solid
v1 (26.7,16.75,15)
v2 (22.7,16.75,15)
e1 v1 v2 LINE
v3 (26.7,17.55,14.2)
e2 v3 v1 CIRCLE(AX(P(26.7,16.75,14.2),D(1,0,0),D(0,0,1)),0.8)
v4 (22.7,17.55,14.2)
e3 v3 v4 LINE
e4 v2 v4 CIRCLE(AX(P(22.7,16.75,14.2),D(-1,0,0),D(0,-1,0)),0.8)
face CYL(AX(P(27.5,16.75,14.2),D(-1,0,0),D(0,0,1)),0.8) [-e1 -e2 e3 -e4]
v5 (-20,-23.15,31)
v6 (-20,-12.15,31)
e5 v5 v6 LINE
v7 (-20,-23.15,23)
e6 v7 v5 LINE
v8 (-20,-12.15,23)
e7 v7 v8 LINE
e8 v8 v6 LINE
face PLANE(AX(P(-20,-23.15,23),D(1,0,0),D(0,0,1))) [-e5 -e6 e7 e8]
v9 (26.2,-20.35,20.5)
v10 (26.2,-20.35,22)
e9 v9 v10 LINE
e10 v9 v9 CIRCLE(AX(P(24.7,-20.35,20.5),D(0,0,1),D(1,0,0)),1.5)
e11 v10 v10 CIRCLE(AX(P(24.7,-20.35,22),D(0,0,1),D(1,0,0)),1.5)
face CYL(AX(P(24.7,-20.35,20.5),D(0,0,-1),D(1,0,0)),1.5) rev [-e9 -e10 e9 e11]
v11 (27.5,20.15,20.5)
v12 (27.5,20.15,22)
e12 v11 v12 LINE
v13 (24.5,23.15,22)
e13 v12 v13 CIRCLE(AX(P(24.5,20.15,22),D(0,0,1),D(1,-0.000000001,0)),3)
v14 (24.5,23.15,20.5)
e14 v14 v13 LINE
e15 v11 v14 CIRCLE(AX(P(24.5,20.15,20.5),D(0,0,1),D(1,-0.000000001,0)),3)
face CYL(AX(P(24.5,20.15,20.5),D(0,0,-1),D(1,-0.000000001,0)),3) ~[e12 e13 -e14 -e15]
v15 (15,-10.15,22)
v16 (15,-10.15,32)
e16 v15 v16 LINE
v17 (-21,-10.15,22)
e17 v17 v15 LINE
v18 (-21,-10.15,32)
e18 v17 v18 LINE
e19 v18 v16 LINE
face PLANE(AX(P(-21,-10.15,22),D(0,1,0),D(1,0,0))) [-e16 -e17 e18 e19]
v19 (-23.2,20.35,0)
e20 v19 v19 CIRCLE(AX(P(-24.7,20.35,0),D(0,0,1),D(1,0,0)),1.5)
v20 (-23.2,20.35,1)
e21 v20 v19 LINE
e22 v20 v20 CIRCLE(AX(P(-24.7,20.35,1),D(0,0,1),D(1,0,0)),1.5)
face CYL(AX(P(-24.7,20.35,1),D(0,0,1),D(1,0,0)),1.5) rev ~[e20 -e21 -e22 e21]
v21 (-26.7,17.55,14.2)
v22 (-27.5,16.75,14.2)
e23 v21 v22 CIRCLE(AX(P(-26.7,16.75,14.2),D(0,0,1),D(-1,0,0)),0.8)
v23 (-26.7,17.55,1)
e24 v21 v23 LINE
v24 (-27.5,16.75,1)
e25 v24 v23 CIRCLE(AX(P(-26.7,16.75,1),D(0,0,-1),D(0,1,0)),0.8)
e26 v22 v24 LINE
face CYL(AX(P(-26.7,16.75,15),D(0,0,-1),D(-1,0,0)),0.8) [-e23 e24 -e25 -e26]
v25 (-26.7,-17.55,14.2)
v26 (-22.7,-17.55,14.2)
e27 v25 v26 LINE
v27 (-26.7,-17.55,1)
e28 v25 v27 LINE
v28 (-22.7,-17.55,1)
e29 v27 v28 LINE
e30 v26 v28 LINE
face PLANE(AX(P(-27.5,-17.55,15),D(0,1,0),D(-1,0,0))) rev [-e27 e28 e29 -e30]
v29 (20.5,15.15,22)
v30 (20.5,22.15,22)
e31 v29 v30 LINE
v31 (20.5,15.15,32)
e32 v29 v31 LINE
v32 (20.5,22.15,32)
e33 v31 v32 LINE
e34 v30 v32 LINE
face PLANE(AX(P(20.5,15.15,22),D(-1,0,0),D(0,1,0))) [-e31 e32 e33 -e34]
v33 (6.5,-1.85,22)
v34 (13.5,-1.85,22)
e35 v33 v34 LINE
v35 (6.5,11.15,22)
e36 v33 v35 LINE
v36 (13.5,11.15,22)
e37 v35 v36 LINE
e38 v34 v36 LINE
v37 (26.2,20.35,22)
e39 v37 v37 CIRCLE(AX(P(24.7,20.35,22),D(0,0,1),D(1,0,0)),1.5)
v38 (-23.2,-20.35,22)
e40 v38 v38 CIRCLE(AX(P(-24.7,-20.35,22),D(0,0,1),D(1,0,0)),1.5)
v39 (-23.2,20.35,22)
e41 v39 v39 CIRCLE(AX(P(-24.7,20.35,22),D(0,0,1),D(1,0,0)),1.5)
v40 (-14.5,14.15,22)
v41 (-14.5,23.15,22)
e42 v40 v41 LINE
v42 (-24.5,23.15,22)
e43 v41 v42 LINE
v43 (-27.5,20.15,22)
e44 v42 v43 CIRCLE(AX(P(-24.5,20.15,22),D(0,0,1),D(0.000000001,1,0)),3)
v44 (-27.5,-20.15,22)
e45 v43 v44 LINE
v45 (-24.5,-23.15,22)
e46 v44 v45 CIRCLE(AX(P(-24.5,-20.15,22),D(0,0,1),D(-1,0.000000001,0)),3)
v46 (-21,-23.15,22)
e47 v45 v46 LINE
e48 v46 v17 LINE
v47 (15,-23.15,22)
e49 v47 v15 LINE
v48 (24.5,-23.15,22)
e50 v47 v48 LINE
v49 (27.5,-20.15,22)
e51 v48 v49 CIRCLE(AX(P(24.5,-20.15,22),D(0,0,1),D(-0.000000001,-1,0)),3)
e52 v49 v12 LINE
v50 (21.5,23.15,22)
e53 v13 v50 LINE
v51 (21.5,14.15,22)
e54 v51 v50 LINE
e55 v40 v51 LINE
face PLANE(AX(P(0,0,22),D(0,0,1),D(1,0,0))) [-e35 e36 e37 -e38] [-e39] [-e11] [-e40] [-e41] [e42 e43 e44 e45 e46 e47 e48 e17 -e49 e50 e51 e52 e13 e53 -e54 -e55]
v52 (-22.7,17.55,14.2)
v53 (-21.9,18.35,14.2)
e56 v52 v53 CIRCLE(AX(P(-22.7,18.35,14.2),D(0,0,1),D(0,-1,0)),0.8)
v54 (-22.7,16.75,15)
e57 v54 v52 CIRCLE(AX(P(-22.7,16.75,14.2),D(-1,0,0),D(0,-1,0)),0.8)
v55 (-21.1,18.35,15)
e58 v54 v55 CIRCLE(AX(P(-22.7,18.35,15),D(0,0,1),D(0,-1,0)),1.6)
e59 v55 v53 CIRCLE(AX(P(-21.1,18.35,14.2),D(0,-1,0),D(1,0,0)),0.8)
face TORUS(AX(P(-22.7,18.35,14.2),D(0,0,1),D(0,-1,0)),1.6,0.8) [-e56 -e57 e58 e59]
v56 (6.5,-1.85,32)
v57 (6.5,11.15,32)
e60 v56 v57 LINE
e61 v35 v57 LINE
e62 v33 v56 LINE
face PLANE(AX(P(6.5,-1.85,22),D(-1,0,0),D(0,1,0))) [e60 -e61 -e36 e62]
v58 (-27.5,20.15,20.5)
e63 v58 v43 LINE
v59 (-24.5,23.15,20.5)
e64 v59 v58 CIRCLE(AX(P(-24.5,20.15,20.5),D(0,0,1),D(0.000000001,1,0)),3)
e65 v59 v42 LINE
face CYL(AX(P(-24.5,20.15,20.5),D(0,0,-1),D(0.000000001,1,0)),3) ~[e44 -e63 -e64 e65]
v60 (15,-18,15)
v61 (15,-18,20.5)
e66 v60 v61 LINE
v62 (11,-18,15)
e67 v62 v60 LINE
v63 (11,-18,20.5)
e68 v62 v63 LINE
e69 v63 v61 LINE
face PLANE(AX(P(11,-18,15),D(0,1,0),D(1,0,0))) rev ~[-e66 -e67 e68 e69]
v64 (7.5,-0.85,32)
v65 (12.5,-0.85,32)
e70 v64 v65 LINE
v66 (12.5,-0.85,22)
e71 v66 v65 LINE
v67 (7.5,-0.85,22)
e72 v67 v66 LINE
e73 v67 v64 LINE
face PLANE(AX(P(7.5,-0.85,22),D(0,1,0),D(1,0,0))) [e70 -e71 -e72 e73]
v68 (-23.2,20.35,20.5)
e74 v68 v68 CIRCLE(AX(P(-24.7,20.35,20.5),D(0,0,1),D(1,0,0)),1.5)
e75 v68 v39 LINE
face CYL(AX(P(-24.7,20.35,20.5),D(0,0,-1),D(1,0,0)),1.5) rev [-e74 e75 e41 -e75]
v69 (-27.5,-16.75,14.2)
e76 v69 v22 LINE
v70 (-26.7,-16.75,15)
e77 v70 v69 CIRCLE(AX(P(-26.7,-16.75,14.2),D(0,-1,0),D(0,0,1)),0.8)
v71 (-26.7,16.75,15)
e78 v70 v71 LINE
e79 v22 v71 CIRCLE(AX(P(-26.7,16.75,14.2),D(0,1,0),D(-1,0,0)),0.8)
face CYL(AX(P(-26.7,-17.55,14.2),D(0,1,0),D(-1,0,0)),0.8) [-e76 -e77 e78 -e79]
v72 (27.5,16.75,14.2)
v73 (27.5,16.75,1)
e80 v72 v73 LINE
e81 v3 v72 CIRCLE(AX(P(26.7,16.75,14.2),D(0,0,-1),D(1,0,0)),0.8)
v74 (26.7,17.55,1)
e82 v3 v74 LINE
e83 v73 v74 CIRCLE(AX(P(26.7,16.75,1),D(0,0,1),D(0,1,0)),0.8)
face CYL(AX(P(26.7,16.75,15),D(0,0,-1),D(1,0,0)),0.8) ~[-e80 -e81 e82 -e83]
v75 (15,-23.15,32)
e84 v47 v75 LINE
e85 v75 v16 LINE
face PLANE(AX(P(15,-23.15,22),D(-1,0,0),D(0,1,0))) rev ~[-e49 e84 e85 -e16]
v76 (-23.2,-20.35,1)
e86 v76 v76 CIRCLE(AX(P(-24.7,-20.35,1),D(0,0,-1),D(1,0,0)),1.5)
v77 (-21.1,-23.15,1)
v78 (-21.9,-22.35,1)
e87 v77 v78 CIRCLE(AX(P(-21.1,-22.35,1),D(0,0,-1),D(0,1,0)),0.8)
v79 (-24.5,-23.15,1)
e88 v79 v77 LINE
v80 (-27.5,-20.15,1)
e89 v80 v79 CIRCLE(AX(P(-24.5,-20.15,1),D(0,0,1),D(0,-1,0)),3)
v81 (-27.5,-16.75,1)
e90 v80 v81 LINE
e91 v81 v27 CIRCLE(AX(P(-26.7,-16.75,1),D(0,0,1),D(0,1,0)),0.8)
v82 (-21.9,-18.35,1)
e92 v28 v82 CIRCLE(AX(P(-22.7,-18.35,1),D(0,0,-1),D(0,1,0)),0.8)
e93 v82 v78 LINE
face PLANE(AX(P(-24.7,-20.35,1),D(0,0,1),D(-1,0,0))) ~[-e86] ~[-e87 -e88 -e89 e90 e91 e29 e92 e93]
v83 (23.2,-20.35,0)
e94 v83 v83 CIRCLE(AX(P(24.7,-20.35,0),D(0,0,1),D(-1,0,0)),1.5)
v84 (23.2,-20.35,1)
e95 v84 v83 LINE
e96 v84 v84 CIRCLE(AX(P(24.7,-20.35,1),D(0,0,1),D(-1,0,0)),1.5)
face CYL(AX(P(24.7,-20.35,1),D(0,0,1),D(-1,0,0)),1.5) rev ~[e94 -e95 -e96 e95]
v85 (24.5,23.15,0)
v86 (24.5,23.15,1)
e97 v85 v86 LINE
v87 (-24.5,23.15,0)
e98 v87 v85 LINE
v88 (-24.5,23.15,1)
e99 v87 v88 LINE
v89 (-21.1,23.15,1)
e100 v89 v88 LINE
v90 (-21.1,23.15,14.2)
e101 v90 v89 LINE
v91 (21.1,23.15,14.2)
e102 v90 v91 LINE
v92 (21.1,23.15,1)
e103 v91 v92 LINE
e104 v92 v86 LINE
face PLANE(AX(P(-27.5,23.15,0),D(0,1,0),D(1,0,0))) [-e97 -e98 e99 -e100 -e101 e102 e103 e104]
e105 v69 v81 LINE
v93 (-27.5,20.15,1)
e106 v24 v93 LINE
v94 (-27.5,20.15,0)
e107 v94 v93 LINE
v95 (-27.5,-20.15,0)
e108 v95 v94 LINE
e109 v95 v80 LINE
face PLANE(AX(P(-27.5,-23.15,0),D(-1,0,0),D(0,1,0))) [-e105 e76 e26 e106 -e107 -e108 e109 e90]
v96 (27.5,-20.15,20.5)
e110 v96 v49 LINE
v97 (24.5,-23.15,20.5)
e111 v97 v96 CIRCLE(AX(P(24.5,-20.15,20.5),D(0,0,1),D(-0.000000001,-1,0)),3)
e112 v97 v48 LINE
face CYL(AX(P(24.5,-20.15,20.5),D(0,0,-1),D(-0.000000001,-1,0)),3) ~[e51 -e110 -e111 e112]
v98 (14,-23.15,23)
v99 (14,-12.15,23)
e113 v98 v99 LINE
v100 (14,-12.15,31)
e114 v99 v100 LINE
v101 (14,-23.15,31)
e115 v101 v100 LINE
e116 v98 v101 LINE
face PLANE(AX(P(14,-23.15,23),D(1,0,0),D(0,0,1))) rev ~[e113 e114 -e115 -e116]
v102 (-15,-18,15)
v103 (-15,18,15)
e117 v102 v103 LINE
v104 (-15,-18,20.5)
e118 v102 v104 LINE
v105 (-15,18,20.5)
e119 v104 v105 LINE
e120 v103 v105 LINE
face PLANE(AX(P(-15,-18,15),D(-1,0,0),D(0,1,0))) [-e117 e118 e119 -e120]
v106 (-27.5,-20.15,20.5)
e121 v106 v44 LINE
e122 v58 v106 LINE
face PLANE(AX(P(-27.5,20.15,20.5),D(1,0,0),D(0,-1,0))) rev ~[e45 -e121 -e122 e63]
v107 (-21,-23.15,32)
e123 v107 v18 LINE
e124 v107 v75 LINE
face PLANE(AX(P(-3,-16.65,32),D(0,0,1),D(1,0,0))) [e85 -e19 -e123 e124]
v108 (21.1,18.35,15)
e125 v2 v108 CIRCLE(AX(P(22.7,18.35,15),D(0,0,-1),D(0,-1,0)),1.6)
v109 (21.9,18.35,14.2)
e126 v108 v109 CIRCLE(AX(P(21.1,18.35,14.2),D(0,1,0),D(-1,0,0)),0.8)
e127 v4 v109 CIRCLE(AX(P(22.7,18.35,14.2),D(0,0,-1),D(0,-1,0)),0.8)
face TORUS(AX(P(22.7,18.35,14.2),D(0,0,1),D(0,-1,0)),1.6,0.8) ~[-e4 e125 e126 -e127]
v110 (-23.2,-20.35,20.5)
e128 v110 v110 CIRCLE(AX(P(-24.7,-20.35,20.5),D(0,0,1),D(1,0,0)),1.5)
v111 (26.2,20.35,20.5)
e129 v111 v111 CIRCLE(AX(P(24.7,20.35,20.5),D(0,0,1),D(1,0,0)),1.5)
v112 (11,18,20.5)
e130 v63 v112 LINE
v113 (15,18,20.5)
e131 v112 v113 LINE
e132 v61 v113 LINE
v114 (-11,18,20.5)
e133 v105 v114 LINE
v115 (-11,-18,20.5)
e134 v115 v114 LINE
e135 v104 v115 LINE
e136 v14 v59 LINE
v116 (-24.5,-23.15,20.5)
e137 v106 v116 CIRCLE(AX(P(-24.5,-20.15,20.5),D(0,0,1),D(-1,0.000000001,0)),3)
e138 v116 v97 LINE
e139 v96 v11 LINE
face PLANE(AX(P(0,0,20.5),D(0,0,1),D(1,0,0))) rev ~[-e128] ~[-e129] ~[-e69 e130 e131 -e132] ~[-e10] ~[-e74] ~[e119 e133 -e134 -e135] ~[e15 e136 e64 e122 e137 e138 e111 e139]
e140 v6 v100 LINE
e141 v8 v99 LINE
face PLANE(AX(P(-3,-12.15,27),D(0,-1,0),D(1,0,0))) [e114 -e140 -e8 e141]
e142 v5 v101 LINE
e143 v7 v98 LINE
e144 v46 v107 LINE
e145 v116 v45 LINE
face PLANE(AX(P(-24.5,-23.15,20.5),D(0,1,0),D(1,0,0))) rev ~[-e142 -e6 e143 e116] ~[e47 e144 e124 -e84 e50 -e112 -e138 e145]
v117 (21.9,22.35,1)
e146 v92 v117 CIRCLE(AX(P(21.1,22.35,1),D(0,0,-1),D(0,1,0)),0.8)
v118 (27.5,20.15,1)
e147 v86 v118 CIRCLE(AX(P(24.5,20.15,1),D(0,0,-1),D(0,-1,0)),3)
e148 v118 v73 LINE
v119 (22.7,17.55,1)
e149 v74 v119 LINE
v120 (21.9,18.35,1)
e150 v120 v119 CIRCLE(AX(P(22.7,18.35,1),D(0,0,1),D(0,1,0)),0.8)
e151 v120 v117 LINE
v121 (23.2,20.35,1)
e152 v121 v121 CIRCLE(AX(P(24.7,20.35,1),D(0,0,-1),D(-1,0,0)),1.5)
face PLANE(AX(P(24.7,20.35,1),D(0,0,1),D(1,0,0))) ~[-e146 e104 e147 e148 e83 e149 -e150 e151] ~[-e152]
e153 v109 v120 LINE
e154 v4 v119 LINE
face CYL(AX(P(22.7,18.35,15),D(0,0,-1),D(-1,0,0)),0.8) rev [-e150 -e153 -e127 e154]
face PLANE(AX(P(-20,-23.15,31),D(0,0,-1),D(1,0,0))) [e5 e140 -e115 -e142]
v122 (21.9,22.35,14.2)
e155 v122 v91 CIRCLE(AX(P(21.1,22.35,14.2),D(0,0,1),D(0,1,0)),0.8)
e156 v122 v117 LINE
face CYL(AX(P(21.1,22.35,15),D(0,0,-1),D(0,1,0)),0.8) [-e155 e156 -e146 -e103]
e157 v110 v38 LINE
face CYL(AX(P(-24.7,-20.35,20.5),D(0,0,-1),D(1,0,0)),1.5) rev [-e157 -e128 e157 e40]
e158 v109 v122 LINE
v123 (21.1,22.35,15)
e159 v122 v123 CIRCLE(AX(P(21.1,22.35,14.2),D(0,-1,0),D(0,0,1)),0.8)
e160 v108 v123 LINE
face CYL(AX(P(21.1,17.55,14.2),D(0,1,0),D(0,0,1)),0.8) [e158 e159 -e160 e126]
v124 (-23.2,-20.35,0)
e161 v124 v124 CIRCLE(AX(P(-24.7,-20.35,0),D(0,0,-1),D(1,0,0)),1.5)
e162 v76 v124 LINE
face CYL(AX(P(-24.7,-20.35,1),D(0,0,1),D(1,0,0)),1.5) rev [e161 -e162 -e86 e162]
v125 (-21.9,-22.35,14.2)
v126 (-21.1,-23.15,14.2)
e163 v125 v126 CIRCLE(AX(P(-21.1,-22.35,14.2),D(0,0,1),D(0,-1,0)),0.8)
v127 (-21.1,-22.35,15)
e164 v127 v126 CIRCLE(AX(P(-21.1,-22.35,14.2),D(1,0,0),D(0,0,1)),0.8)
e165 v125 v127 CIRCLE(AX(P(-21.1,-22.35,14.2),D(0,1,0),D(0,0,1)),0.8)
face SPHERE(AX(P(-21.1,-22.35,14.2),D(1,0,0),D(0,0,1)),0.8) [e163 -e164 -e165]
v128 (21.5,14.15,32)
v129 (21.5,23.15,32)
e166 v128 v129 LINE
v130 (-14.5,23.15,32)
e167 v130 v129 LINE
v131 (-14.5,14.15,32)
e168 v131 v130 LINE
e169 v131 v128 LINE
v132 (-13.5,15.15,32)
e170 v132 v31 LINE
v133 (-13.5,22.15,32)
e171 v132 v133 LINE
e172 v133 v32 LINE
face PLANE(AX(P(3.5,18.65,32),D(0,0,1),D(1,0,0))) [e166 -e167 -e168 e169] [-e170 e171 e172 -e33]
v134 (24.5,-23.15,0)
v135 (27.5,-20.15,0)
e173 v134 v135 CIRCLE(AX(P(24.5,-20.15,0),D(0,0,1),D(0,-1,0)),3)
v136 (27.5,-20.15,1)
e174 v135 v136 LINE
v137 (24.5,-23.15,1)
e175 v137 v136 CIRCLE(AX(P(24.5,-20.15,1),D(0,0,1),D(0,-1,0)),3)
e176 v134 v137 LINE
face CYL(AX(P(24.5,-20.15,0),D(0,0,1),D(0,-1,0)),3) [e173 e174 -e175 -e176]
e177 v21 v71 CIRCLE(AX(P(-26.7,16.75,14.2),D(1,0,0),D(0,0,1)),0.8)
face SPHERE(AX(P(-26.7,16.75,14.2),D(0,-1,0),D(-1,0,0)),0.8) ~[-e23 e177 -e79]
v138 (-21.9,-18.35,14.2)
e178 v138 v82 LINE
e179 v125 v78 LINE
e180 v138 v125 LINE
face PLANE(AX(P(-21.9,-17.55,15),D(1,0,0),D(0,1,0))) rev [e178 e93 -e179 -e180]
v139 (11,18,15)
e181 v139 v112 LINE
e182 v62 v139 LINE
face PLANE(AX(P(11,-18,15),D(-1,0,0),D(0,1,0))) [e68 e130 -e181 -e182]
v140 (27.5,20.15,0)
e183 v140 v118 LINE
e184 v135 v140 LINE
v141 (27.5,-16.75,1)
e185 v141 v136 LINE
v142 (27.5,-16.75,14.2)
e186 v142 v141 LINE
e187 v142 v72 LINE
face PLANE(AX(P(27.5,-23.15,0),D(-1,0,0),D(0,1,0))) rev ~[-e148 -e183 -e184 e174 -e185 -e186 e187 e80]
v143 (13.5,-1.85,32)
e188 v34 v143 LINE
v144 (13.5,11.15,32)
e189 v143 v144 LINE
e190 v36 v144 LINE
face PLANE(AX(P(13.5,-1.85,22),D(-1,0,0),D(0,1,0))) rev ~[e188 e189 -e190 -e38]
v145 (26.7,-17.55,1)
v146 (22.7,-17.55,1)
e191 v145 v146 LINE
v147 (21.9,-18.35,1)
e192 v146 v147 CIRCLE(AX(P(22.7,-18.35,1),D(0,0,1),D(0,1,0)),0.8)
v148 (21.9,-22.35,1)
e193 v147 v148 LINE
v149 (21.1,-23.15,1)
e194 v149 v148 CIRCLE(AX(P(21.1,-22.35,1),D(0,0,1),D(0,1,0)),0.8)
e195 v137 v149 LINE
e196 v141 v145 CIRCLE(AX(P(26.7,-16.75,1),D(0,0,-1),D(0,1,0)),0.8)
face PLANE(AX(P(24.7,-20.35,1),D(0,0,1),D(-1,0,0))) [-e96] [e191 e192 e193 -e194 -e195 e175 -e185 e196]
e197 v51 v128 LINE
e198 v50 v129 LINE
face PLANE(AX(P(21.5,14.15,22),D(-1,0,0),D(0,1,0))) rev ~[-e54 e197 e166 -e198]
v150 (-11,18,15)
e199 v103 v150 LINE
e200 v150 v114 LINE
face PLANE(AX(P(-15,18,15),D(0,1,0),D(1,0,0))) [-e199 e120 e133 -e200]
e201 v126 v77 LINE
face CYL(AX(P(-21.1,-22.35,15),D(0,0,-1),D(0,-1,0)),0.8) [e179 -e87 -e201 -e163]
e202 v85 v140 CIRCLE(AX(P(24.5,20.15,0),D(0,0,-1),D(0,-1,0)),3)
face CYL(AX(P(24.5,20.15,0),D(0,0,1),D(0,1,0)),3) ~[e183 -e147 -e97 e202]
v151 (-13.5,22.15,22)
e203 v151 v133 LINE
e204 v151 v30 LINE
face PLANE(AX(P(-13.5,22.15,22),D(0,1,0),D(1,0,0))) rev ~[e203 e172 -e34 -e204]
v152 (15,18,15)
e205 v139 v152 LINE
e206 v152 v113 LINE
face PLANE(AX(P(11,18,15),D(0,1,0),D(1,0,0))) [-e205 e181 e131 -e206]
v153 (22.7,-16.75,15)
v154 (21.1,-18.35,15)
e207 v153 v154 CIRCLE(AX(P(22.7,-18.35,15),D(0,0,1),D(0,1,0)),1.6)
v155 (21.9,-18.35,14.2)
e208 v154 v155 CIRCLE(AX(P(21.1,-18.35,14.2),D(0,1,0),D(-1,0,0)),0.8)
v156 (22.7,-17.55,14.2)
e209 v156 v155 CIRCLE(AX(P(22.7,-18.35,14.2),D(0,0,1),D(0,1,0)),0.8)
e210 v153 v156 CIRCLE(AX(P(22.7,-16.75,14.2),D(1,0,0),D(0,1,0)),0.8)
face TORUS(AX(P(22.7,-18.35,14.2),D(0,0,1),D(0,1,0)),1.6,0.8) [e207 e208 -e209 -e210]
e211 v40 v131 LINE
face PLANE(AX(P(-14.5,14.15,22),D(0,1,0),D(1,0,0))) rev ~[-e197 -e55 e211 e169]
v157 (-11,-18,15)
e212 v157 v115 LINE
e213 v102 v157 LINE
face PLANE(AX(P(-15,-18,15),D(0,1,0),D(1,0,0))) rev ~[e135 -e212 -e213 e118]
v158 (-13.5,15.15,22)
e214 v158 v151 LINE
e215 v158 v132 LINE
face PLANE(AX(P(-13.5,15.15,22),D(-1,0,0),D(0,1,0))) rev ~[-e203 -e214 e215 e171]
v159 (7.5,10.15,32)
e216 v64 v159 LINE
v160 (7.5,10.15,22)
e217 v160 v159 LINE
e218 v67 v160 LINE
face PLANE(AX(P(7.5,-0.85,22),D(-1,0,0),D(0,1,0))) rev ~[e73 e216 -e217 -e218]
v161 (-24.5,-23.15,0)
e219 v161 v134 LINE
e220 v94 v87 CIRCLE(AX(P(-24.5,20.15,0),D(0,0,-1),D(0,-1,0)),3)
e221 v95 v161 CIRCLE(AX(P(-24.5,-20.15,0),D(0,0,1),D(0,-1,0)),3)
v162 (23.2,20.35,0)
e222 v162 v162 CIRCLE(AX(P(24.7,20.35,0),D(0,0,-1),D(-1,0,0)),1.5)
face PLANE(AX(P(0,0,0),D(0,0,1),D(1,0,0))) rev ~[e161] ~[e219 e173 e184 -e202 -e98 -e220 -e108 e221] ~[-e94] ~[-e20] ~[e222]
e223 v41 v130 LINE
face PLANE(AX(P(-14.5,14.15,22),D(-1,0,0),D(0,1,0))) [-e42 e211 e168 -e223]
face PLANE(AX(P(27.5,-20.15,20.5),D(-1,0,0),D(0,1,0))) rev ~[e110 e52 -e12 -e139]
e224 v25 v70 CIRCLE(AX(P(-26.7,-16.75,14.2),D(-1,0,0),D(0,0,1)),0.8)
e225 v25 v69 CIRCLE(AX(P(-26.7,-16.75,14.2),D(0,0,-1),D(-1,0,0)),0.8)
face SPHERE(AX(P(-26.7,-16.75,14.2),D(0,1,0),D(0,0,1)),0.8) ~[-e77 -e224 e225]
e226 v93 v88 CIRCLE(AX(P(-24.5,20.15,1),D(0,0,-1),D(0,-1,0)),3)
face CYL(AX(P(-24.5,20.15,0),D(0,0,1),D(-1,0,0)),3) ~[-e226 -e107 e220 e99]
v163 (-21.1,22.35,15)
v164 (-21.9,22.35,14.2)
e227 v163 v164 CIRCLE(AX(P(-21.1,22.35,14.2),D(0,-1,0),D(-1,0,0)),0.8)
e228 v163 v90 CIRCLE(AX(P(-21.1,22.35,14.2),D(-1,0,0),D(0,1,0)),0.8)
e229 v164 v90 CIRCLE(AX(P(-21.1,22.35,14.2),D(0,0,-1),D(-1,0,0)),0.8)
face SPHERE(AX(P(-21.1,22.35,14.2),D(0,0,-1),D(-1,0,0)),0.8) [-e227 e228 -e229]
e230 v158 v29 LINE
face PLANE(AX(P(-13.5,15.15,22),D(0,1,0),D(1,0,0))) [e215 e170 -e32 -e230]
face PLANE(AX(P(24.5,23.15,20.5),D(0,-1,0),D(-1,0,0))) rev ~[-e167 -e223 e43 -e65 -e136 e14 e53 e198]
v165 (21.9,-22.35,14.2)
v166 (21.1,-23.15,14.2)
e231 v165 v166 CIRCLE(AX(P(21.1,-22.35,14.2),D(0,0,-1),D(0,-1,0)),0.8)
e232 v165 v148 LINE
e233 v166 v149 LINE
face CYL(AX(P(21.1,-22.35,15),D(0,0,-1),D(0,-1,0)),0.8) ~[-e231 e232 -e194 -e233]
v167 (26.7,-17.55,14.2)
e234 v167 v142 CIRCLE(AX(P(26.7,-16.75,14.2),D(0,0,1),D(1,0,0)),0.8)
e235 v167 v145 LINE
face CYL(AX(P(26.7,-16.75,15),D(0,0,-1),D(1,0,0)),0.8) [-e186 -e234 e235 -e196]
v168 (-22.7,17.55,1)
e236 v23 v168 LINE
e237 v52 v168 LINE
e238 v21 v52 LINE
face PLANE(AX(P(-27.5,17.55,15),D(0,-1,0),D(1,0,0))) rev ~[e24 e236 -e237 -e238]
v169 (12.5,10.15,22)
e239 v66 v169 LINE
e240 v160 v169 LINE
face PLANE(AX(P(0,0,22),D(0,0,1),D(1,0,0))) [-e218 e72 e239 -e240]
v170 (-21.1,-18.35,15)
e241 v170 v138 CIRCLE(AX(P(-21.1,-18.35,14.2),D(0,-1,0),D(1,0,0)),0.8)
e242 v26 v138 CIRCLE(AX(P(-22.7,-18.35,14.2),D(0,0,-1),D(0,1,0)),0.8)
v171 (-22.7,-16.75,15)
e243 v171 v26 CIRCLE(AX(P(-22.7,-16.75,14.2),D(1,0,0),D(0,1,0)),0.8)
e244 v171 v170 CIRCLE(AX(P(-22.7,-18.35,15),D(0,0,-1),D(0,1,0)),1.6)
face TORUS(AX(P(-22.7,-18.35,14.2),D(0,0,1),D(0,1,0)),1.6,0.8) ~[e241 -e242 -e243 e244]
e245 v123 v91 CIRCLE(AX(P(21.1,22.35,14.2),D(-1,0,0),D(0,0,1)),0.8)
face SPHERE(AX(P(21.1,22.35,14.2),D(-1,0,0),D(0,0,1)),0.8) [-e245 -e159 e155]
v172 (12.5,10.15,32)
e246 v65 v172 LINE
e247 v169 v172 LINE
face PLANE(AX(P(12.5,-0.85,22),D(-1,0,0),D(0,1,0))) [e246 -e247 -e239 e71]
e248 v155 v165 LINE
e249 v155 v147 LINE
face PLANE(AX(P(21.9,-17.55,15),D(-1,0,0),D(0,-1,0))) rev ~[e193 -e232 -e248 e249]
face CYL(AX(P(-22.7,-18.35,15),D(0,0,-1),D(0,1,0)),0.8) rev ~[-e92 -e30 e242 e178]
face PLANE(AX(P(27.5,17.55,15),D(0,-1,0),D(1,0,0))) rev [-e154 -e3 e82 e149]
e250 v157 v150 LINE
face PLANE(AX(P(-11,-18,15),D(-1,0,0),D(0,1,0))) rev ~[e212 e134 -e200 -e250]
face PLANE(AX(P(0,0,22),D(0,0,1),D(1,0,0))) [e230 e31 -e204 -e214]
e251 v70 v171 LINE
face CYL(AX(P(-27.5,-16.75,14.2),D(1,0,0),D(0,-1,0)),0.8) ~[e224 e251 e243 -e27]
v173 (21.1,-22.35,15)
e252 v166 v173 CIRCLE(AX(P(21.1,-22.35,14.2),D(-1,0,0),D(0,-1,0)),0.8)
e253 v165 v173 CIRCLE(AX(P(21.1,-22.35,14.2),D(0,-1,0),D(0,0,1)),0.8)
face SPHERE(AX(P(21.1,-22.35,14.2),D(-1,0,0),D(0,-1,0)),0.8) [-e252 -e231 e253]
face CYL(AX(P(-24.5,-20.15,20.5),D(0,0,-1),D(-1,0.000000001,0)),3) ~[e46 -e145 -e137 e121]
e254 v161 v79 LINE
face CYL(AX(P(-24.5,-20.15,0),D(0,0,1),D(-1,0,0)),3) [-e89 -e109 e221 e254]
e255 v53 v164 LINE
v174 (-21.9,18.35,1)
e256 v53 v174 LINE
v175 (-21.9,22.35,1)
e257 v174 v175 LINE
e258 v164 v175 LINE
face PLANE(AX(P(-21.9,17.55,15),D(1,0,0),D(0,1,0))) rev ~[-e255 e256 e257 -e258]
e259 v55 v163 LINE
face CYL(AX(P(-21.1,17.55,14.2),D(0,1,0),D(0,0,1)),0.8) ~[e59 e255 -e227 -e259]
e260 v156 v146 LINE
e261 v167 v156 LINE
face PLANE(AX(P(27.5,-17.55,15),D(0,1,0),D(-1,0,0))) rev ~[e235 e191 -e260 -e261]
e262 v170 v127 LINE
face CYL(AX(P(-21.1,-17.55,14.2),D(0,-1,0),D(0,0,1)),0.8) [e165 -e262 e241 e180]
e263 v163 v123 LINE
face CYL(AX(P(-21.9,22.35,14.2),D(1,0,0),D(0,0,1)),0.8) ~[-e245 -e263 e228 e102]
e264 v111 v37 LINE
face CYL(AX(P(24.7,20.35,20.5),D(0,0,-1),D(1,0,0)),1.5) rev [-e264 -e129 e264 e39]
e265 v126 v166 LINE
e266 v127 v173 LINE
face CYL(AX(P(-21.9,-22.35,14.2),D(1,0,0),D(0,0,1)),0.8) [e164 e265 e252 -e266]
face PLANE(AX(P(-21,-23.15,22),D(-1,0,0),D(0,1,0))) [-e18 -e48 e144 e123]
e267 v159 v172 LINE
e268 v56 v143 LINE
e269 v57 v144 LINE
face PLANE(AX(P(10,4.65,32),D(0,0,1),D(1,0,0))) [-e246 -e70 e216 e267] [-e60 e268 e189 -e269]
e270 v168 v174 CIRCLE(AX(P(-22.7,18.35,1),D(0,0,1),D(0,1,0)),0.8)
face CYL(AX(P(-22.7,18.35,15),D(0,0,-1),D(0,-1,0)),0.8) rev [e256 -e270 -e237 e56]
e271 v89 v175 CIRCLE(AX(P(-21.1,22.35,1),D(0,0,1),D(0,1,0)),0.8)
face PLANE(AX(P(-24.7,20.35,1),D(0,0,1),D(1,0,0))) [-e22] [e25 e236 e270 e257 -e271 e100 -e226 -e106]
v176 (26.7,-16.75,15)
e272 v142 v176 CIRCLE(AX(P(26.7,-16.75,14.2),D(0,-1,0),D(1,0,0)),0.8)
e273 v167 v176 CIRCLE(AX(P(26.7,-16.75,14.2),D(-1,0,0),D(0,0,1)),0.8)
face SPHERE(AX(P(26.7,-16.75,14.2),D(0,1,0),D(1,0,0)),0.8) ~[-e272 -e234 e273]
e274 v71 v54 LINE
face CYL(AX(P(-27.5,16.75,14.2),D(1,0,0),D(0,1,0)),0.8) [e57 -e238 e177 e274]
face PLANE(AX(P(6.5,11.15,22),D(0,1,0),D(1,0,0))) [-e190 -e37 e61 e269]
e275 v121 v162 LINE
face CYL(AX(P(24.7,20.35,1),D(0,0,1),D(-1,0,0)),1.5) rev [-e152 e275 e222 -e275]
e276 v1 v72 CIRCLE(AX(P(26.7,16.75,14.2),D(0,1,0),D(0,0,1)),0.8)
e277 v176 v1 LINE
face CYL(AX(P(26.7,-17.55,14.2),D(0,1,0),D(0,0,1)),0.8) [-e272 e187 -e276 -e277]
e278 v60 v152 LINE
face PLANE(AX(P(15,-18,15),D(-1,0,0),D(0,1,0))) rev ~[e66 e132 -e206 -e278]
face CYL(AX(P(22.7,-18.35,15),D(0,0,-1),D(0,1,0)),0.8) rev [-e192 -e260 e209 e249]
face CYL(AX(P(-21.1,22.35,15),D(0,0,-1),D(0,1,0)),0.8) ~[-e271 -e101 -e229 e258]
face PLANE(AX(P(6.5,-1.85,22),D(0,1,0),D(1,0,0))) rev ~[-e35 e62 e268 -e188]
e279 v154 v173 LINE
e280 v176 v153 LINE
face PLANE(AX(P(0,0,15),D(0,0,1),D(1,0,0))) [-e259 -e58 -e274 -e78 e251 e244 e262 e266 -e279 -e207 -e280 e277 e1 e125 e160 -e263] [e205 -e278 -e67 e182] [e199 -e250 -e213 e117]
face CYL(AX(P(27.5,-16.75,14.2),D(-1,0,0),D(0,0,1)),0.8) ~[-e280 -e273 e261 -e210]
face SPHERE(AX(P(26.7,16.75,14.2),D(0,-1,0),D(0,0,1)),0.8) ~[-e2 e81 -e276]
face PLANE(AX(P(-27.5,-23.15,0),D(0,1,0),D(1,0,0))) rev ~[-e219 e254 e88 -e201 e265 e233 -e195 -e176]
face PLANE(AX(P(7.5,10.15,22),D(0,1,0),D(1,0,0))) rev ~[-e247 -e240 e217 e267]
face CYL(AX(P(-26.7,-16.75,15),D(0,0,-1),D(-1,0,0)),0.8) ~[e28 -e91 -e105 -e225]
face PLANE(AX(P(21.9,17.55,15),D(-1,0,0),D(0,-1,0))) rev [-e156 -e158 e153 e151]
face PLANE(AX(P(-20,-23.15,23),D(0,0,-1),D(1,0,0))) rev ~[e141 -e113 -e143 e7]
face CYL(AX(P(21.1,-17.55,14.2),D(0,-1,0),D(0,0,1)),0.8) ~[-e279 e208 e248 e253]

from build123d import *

# Parameters (mm, degrees)
SKETCH_1_W               = 55
SKETCH_1_H               = 46.3
EXTRUDE_1_DEPTH          = 15
SKETCH_2_W               = 5.6
SKETCH_2_H               = 5.6
CUT_EXTRUDE_1_DEPTH      = 14
SKETCH_3_R               = 1.5
CUT_EXTRUDE_2_DEPTH      = 1
MIRROR_2_COPY_1_SKETCH_W = 5.6
MIRROR_2_COPY_1_SKETCH_H = 5.6
MIRROR_2_COPY_1_DEPTH    = 14
MIRROR_2_COPY_2_SKETCH_R = 1.5
MIRROR_2_COPY_2_DEPTH    = 1
FILLET_1_R               = 3
FILLET_2_R               = 0.8
SKETCH_5_W               = 4
SKETCH_5_H               = 36
EXTRUDE_2_DEPTH          = 5.5
SKETCH_6_R               = 1.5
EXTRUDE_3_DEPTH          = 1.5
SKETCH_7_W               = 36
SKETCH_7_H               = 9
SKETCH_7_W_2             = 34
SKETCH_7_H_2             = 7
SKETCH_7_W_3             = 7
SKETCH_7_H_3             = 13
SKETCH_7_W_4             = 5
SKETCH_7_H_4             = 11
EXTRUDE_4_DEPTH          = 10
SKETCH_9_W               = 34
SKETCH_9_H               = 8
CUT_EXTRUDE_3_DEPTH      = 11


with BuildPart() as part:
    # 草图1 → 凸台-拉伸1 (new body)
    with BuildSketch(Plane.XY):
        Rectangle(SKETCH_1_W, SKETCH_1_H)
    extrude(amount=EXTRUDE_1_DEPTH)

    # 草图2 → 切除-拉伸1 (cut)
    with BuildSketch(Plane.XY.offset(15)):
        with Locations((-24.7, 20.35)):
            Rectangle(SKETCH_2_W, SKETCH_2_H)
    cut_extrude_1 = extrude(amount=-CUT_EXTRUDE_1_DEPTH, mode=Mode.SUBTRACT)

    # 草图3 → 切除-拉伸2 (cut)
    with BuildSketch(Plane.XY.offset(1)):
        with Locations((-24.7, 20.35)):
            Circle(SKETCH_3_R)
    cut_extrude_2 = extrude(amount=-CUT_EXTRUDE_2_DEPTH, mode=Mode.SUBTRACT)

    # 镜向1: 切除-拉伸1, 切除-拉伸2 across plane
    add(cut_extrude_1.mirror(Plane.ZX), mode=Mode.SUBTRACT)
    add(cut_extrude_2.mirror(Plane.ZX), mode=Mode.SUBTRACT)

    # 镜向2: 切除-拉伸1, 切除-拉伸2 across plane
    add(cut_extrude_1.mirror(Plane(origin=(0, 0, 0), x_dir=(0, 0, 1), z_dir=(1, 0, 0))), mode=Mode.SUBTRACT)
    add(cut_extrude_2.mirror(Plane(origin=(0, 0, 0), x_dir=(0, 0, 1), z_dir=(1, 0, 0))), mode=Mode.SUBTRACT)

    # 镜向2 copy 1 sketch → 镜向2 copy 1 (cut)
    with BuildSketch(Plane(origin=(0, 0, 15), x_dir=(-1, 0, 0), z_dir=(0, 0, 1))):
        with Locations((-24.7, 20.35)):
            Rectangle(MIRROR_2_COPY_1_SKETCH_W, MIRROR_2_COPY_1_SKETCH_H)
    extrude(amount=-MIRROR_2_COPY_1_DEPTH, mode=Mode.SUBTRACT)

    # 镜向2 copy 2 sketch → 镜向2 copy 2 (cut)
    with BuildSketch(Plane(origin=(0, 0, 1), x_dir=(-1, 0, 0), z_dir=(0, 0, 1))):
        with Locations((-24.7, 20.35)):
            Circle(MIRROR_2_COPY_2_SKETCH_R)
    extrude(amount=-MIRROR_2_COPY_2_DEPTH, mode=Mode.SUBTRACT)

    # 圆角1
    fillet_1_edges = [part.edges().sort_by_distance(p)[0] for p in [
        (-27.5, 23.15, 0.5),
        (-27.5, -23.15, 0.5),
        (27.5, -23.15, 0.5),
        (27.5, 23.15, 0.5),
    ]]
    fillet(fillet_1_edges, radius=FILLET_1_R)

    # 圆角2
    fillet_2_edges = [part.edges().sort_by_distance(p)[0] for p in [
        (-27.5, 0, 15),
        (-27.5, 17.55, 8),
        (-21.9, 23.15, 8),
        (-21.9, 17.55, 8),
        (-24.7, 17.55, 15),
        (-21.9, 20.35, 15),
        (0, -23.15, 15),
        (-24.7, -17.55, 15),
        (-27.5, -17.55, 8),
        (-21.9, -20.35, 15),
        (-21.9, -17.55, 8),
        (-21.9, -23.15, 8),
        (27.5, 0, 15),
        (27.5, -17.55, 8),
        (21.9, -23.15, 8),
        (21.9, -17.55, 8),
        (24.7, -17.55, 15),
        (21.9, -20.35, 15),
        (0, 23.15, 15),
        (24.7, 17.55, 15),
        (27.5, 17.55, 8),
        (21.9, 20.35, 15),
        (21.9, 17.55, 8),
        (21.9, 23.15, 8),
    ]]
    fillet(fillet_2_edges, radius=FILLET_2_R)

    # 草图5 → 凸台-拉伸2 (add)
    with BuildSketch(Plane.XY.offset(15)):
        with Locations((-13, 0)):
            Rectangle(SKETCH_5_W, SKETCH_5_H)
        with Locations((13, 0)):
            Rectangle(SKETCH_5_W, SKETCH_5_H)
    extrude(amount=EXTRUDE_2_DEPTH)

    # 草图6 → 凸台-拉伸3 (add)
    with BuildSketch(Plane.XY.offset(20.5)):
        with BuildLine():
            Line((24.5, 23.15), (-24.5, 23.15))
            ThreePointArc((-24.5, 23.15), (-26.621320344, 22.271320344), (-27.5, 20.15))
            Line((-27.5, 20.15), (-27.5, -20.15))
            ThreePointArc((-27.5, -20.15), (-26.621320344, -22.271320344), (-24.5, -23.15))
            Line((-24.5, -23.15), (24.5, -23.15))
            ThreePointArc((24.5, -23.15), (26.621320344, -22.271320344), (27.5, -20.15))
            Line((27.5, -20.15), (27.5, 20.15))
            ThreePointArc((27.5, 20.15), (26.621320344, 22.271320344), (24.5, 23.15))
        make_face()
        with Locations((-24.7, 20.35)):
            Circle(SKETCH_6_R, mode=Mode.SUBTRACT)
        with Locations((24.7, 20.35)):
            Circle(SKETCH_6_R, mode=Mode.SUBTRACT)
        with Locations((-24.7, -20.35)):
            Circle(SKETCH_6_R, mode=Mode.SUBTRACT)
        with Locations((24.7, -20.35)):
            Circle(SKETCH_6_R, mode=Mode.SUBTRACT)
    extrude(amount=EXTRUDE_3_DEPTH)

    # 草图7 → 凸台-拉伸4 (add)
    with BuildSketch(Plane.XY.offset(22)):
        with Locations((3.5, 18.65)):
            Rectangle(SKETCH_7_W, SKETCH_7_H)
        with Locations((3.5, 18.65)):
            Rectangle(SKETCH_7_W_2, SKETCH_7_H_2, mode=Mode.SUBTRACT)
        with Locations((10, 4.65)):
            Rectangle(SKETCH_7_W_3, SKETCH_7_H_3)
        with Locations((10, 4.65)):
            Rectangle(SKETCH_7_W_4, SKETCH_7_H_4, mode=Mode.SUBTRACT)
        with Locations((-3, -16.65)):
            Rectangle(SKETCH_7_W, SKETCH_7_H_3)
    extrude(amount=EXTRUDE_4_DEPTH)

    # 草图9 → 切除-拉伸3 (cut)
    with BuildSketch(Plane.XZ.offset(23.15)):
        with Locations((-3, 27)):
            Rectangle(SKETCH_9_W, SKETCH_9_H)
    extrude(amount=-CUT_EXTRUDE_3_DEPTH, mode=Mode.SUBTRACT)


solid = part.part
